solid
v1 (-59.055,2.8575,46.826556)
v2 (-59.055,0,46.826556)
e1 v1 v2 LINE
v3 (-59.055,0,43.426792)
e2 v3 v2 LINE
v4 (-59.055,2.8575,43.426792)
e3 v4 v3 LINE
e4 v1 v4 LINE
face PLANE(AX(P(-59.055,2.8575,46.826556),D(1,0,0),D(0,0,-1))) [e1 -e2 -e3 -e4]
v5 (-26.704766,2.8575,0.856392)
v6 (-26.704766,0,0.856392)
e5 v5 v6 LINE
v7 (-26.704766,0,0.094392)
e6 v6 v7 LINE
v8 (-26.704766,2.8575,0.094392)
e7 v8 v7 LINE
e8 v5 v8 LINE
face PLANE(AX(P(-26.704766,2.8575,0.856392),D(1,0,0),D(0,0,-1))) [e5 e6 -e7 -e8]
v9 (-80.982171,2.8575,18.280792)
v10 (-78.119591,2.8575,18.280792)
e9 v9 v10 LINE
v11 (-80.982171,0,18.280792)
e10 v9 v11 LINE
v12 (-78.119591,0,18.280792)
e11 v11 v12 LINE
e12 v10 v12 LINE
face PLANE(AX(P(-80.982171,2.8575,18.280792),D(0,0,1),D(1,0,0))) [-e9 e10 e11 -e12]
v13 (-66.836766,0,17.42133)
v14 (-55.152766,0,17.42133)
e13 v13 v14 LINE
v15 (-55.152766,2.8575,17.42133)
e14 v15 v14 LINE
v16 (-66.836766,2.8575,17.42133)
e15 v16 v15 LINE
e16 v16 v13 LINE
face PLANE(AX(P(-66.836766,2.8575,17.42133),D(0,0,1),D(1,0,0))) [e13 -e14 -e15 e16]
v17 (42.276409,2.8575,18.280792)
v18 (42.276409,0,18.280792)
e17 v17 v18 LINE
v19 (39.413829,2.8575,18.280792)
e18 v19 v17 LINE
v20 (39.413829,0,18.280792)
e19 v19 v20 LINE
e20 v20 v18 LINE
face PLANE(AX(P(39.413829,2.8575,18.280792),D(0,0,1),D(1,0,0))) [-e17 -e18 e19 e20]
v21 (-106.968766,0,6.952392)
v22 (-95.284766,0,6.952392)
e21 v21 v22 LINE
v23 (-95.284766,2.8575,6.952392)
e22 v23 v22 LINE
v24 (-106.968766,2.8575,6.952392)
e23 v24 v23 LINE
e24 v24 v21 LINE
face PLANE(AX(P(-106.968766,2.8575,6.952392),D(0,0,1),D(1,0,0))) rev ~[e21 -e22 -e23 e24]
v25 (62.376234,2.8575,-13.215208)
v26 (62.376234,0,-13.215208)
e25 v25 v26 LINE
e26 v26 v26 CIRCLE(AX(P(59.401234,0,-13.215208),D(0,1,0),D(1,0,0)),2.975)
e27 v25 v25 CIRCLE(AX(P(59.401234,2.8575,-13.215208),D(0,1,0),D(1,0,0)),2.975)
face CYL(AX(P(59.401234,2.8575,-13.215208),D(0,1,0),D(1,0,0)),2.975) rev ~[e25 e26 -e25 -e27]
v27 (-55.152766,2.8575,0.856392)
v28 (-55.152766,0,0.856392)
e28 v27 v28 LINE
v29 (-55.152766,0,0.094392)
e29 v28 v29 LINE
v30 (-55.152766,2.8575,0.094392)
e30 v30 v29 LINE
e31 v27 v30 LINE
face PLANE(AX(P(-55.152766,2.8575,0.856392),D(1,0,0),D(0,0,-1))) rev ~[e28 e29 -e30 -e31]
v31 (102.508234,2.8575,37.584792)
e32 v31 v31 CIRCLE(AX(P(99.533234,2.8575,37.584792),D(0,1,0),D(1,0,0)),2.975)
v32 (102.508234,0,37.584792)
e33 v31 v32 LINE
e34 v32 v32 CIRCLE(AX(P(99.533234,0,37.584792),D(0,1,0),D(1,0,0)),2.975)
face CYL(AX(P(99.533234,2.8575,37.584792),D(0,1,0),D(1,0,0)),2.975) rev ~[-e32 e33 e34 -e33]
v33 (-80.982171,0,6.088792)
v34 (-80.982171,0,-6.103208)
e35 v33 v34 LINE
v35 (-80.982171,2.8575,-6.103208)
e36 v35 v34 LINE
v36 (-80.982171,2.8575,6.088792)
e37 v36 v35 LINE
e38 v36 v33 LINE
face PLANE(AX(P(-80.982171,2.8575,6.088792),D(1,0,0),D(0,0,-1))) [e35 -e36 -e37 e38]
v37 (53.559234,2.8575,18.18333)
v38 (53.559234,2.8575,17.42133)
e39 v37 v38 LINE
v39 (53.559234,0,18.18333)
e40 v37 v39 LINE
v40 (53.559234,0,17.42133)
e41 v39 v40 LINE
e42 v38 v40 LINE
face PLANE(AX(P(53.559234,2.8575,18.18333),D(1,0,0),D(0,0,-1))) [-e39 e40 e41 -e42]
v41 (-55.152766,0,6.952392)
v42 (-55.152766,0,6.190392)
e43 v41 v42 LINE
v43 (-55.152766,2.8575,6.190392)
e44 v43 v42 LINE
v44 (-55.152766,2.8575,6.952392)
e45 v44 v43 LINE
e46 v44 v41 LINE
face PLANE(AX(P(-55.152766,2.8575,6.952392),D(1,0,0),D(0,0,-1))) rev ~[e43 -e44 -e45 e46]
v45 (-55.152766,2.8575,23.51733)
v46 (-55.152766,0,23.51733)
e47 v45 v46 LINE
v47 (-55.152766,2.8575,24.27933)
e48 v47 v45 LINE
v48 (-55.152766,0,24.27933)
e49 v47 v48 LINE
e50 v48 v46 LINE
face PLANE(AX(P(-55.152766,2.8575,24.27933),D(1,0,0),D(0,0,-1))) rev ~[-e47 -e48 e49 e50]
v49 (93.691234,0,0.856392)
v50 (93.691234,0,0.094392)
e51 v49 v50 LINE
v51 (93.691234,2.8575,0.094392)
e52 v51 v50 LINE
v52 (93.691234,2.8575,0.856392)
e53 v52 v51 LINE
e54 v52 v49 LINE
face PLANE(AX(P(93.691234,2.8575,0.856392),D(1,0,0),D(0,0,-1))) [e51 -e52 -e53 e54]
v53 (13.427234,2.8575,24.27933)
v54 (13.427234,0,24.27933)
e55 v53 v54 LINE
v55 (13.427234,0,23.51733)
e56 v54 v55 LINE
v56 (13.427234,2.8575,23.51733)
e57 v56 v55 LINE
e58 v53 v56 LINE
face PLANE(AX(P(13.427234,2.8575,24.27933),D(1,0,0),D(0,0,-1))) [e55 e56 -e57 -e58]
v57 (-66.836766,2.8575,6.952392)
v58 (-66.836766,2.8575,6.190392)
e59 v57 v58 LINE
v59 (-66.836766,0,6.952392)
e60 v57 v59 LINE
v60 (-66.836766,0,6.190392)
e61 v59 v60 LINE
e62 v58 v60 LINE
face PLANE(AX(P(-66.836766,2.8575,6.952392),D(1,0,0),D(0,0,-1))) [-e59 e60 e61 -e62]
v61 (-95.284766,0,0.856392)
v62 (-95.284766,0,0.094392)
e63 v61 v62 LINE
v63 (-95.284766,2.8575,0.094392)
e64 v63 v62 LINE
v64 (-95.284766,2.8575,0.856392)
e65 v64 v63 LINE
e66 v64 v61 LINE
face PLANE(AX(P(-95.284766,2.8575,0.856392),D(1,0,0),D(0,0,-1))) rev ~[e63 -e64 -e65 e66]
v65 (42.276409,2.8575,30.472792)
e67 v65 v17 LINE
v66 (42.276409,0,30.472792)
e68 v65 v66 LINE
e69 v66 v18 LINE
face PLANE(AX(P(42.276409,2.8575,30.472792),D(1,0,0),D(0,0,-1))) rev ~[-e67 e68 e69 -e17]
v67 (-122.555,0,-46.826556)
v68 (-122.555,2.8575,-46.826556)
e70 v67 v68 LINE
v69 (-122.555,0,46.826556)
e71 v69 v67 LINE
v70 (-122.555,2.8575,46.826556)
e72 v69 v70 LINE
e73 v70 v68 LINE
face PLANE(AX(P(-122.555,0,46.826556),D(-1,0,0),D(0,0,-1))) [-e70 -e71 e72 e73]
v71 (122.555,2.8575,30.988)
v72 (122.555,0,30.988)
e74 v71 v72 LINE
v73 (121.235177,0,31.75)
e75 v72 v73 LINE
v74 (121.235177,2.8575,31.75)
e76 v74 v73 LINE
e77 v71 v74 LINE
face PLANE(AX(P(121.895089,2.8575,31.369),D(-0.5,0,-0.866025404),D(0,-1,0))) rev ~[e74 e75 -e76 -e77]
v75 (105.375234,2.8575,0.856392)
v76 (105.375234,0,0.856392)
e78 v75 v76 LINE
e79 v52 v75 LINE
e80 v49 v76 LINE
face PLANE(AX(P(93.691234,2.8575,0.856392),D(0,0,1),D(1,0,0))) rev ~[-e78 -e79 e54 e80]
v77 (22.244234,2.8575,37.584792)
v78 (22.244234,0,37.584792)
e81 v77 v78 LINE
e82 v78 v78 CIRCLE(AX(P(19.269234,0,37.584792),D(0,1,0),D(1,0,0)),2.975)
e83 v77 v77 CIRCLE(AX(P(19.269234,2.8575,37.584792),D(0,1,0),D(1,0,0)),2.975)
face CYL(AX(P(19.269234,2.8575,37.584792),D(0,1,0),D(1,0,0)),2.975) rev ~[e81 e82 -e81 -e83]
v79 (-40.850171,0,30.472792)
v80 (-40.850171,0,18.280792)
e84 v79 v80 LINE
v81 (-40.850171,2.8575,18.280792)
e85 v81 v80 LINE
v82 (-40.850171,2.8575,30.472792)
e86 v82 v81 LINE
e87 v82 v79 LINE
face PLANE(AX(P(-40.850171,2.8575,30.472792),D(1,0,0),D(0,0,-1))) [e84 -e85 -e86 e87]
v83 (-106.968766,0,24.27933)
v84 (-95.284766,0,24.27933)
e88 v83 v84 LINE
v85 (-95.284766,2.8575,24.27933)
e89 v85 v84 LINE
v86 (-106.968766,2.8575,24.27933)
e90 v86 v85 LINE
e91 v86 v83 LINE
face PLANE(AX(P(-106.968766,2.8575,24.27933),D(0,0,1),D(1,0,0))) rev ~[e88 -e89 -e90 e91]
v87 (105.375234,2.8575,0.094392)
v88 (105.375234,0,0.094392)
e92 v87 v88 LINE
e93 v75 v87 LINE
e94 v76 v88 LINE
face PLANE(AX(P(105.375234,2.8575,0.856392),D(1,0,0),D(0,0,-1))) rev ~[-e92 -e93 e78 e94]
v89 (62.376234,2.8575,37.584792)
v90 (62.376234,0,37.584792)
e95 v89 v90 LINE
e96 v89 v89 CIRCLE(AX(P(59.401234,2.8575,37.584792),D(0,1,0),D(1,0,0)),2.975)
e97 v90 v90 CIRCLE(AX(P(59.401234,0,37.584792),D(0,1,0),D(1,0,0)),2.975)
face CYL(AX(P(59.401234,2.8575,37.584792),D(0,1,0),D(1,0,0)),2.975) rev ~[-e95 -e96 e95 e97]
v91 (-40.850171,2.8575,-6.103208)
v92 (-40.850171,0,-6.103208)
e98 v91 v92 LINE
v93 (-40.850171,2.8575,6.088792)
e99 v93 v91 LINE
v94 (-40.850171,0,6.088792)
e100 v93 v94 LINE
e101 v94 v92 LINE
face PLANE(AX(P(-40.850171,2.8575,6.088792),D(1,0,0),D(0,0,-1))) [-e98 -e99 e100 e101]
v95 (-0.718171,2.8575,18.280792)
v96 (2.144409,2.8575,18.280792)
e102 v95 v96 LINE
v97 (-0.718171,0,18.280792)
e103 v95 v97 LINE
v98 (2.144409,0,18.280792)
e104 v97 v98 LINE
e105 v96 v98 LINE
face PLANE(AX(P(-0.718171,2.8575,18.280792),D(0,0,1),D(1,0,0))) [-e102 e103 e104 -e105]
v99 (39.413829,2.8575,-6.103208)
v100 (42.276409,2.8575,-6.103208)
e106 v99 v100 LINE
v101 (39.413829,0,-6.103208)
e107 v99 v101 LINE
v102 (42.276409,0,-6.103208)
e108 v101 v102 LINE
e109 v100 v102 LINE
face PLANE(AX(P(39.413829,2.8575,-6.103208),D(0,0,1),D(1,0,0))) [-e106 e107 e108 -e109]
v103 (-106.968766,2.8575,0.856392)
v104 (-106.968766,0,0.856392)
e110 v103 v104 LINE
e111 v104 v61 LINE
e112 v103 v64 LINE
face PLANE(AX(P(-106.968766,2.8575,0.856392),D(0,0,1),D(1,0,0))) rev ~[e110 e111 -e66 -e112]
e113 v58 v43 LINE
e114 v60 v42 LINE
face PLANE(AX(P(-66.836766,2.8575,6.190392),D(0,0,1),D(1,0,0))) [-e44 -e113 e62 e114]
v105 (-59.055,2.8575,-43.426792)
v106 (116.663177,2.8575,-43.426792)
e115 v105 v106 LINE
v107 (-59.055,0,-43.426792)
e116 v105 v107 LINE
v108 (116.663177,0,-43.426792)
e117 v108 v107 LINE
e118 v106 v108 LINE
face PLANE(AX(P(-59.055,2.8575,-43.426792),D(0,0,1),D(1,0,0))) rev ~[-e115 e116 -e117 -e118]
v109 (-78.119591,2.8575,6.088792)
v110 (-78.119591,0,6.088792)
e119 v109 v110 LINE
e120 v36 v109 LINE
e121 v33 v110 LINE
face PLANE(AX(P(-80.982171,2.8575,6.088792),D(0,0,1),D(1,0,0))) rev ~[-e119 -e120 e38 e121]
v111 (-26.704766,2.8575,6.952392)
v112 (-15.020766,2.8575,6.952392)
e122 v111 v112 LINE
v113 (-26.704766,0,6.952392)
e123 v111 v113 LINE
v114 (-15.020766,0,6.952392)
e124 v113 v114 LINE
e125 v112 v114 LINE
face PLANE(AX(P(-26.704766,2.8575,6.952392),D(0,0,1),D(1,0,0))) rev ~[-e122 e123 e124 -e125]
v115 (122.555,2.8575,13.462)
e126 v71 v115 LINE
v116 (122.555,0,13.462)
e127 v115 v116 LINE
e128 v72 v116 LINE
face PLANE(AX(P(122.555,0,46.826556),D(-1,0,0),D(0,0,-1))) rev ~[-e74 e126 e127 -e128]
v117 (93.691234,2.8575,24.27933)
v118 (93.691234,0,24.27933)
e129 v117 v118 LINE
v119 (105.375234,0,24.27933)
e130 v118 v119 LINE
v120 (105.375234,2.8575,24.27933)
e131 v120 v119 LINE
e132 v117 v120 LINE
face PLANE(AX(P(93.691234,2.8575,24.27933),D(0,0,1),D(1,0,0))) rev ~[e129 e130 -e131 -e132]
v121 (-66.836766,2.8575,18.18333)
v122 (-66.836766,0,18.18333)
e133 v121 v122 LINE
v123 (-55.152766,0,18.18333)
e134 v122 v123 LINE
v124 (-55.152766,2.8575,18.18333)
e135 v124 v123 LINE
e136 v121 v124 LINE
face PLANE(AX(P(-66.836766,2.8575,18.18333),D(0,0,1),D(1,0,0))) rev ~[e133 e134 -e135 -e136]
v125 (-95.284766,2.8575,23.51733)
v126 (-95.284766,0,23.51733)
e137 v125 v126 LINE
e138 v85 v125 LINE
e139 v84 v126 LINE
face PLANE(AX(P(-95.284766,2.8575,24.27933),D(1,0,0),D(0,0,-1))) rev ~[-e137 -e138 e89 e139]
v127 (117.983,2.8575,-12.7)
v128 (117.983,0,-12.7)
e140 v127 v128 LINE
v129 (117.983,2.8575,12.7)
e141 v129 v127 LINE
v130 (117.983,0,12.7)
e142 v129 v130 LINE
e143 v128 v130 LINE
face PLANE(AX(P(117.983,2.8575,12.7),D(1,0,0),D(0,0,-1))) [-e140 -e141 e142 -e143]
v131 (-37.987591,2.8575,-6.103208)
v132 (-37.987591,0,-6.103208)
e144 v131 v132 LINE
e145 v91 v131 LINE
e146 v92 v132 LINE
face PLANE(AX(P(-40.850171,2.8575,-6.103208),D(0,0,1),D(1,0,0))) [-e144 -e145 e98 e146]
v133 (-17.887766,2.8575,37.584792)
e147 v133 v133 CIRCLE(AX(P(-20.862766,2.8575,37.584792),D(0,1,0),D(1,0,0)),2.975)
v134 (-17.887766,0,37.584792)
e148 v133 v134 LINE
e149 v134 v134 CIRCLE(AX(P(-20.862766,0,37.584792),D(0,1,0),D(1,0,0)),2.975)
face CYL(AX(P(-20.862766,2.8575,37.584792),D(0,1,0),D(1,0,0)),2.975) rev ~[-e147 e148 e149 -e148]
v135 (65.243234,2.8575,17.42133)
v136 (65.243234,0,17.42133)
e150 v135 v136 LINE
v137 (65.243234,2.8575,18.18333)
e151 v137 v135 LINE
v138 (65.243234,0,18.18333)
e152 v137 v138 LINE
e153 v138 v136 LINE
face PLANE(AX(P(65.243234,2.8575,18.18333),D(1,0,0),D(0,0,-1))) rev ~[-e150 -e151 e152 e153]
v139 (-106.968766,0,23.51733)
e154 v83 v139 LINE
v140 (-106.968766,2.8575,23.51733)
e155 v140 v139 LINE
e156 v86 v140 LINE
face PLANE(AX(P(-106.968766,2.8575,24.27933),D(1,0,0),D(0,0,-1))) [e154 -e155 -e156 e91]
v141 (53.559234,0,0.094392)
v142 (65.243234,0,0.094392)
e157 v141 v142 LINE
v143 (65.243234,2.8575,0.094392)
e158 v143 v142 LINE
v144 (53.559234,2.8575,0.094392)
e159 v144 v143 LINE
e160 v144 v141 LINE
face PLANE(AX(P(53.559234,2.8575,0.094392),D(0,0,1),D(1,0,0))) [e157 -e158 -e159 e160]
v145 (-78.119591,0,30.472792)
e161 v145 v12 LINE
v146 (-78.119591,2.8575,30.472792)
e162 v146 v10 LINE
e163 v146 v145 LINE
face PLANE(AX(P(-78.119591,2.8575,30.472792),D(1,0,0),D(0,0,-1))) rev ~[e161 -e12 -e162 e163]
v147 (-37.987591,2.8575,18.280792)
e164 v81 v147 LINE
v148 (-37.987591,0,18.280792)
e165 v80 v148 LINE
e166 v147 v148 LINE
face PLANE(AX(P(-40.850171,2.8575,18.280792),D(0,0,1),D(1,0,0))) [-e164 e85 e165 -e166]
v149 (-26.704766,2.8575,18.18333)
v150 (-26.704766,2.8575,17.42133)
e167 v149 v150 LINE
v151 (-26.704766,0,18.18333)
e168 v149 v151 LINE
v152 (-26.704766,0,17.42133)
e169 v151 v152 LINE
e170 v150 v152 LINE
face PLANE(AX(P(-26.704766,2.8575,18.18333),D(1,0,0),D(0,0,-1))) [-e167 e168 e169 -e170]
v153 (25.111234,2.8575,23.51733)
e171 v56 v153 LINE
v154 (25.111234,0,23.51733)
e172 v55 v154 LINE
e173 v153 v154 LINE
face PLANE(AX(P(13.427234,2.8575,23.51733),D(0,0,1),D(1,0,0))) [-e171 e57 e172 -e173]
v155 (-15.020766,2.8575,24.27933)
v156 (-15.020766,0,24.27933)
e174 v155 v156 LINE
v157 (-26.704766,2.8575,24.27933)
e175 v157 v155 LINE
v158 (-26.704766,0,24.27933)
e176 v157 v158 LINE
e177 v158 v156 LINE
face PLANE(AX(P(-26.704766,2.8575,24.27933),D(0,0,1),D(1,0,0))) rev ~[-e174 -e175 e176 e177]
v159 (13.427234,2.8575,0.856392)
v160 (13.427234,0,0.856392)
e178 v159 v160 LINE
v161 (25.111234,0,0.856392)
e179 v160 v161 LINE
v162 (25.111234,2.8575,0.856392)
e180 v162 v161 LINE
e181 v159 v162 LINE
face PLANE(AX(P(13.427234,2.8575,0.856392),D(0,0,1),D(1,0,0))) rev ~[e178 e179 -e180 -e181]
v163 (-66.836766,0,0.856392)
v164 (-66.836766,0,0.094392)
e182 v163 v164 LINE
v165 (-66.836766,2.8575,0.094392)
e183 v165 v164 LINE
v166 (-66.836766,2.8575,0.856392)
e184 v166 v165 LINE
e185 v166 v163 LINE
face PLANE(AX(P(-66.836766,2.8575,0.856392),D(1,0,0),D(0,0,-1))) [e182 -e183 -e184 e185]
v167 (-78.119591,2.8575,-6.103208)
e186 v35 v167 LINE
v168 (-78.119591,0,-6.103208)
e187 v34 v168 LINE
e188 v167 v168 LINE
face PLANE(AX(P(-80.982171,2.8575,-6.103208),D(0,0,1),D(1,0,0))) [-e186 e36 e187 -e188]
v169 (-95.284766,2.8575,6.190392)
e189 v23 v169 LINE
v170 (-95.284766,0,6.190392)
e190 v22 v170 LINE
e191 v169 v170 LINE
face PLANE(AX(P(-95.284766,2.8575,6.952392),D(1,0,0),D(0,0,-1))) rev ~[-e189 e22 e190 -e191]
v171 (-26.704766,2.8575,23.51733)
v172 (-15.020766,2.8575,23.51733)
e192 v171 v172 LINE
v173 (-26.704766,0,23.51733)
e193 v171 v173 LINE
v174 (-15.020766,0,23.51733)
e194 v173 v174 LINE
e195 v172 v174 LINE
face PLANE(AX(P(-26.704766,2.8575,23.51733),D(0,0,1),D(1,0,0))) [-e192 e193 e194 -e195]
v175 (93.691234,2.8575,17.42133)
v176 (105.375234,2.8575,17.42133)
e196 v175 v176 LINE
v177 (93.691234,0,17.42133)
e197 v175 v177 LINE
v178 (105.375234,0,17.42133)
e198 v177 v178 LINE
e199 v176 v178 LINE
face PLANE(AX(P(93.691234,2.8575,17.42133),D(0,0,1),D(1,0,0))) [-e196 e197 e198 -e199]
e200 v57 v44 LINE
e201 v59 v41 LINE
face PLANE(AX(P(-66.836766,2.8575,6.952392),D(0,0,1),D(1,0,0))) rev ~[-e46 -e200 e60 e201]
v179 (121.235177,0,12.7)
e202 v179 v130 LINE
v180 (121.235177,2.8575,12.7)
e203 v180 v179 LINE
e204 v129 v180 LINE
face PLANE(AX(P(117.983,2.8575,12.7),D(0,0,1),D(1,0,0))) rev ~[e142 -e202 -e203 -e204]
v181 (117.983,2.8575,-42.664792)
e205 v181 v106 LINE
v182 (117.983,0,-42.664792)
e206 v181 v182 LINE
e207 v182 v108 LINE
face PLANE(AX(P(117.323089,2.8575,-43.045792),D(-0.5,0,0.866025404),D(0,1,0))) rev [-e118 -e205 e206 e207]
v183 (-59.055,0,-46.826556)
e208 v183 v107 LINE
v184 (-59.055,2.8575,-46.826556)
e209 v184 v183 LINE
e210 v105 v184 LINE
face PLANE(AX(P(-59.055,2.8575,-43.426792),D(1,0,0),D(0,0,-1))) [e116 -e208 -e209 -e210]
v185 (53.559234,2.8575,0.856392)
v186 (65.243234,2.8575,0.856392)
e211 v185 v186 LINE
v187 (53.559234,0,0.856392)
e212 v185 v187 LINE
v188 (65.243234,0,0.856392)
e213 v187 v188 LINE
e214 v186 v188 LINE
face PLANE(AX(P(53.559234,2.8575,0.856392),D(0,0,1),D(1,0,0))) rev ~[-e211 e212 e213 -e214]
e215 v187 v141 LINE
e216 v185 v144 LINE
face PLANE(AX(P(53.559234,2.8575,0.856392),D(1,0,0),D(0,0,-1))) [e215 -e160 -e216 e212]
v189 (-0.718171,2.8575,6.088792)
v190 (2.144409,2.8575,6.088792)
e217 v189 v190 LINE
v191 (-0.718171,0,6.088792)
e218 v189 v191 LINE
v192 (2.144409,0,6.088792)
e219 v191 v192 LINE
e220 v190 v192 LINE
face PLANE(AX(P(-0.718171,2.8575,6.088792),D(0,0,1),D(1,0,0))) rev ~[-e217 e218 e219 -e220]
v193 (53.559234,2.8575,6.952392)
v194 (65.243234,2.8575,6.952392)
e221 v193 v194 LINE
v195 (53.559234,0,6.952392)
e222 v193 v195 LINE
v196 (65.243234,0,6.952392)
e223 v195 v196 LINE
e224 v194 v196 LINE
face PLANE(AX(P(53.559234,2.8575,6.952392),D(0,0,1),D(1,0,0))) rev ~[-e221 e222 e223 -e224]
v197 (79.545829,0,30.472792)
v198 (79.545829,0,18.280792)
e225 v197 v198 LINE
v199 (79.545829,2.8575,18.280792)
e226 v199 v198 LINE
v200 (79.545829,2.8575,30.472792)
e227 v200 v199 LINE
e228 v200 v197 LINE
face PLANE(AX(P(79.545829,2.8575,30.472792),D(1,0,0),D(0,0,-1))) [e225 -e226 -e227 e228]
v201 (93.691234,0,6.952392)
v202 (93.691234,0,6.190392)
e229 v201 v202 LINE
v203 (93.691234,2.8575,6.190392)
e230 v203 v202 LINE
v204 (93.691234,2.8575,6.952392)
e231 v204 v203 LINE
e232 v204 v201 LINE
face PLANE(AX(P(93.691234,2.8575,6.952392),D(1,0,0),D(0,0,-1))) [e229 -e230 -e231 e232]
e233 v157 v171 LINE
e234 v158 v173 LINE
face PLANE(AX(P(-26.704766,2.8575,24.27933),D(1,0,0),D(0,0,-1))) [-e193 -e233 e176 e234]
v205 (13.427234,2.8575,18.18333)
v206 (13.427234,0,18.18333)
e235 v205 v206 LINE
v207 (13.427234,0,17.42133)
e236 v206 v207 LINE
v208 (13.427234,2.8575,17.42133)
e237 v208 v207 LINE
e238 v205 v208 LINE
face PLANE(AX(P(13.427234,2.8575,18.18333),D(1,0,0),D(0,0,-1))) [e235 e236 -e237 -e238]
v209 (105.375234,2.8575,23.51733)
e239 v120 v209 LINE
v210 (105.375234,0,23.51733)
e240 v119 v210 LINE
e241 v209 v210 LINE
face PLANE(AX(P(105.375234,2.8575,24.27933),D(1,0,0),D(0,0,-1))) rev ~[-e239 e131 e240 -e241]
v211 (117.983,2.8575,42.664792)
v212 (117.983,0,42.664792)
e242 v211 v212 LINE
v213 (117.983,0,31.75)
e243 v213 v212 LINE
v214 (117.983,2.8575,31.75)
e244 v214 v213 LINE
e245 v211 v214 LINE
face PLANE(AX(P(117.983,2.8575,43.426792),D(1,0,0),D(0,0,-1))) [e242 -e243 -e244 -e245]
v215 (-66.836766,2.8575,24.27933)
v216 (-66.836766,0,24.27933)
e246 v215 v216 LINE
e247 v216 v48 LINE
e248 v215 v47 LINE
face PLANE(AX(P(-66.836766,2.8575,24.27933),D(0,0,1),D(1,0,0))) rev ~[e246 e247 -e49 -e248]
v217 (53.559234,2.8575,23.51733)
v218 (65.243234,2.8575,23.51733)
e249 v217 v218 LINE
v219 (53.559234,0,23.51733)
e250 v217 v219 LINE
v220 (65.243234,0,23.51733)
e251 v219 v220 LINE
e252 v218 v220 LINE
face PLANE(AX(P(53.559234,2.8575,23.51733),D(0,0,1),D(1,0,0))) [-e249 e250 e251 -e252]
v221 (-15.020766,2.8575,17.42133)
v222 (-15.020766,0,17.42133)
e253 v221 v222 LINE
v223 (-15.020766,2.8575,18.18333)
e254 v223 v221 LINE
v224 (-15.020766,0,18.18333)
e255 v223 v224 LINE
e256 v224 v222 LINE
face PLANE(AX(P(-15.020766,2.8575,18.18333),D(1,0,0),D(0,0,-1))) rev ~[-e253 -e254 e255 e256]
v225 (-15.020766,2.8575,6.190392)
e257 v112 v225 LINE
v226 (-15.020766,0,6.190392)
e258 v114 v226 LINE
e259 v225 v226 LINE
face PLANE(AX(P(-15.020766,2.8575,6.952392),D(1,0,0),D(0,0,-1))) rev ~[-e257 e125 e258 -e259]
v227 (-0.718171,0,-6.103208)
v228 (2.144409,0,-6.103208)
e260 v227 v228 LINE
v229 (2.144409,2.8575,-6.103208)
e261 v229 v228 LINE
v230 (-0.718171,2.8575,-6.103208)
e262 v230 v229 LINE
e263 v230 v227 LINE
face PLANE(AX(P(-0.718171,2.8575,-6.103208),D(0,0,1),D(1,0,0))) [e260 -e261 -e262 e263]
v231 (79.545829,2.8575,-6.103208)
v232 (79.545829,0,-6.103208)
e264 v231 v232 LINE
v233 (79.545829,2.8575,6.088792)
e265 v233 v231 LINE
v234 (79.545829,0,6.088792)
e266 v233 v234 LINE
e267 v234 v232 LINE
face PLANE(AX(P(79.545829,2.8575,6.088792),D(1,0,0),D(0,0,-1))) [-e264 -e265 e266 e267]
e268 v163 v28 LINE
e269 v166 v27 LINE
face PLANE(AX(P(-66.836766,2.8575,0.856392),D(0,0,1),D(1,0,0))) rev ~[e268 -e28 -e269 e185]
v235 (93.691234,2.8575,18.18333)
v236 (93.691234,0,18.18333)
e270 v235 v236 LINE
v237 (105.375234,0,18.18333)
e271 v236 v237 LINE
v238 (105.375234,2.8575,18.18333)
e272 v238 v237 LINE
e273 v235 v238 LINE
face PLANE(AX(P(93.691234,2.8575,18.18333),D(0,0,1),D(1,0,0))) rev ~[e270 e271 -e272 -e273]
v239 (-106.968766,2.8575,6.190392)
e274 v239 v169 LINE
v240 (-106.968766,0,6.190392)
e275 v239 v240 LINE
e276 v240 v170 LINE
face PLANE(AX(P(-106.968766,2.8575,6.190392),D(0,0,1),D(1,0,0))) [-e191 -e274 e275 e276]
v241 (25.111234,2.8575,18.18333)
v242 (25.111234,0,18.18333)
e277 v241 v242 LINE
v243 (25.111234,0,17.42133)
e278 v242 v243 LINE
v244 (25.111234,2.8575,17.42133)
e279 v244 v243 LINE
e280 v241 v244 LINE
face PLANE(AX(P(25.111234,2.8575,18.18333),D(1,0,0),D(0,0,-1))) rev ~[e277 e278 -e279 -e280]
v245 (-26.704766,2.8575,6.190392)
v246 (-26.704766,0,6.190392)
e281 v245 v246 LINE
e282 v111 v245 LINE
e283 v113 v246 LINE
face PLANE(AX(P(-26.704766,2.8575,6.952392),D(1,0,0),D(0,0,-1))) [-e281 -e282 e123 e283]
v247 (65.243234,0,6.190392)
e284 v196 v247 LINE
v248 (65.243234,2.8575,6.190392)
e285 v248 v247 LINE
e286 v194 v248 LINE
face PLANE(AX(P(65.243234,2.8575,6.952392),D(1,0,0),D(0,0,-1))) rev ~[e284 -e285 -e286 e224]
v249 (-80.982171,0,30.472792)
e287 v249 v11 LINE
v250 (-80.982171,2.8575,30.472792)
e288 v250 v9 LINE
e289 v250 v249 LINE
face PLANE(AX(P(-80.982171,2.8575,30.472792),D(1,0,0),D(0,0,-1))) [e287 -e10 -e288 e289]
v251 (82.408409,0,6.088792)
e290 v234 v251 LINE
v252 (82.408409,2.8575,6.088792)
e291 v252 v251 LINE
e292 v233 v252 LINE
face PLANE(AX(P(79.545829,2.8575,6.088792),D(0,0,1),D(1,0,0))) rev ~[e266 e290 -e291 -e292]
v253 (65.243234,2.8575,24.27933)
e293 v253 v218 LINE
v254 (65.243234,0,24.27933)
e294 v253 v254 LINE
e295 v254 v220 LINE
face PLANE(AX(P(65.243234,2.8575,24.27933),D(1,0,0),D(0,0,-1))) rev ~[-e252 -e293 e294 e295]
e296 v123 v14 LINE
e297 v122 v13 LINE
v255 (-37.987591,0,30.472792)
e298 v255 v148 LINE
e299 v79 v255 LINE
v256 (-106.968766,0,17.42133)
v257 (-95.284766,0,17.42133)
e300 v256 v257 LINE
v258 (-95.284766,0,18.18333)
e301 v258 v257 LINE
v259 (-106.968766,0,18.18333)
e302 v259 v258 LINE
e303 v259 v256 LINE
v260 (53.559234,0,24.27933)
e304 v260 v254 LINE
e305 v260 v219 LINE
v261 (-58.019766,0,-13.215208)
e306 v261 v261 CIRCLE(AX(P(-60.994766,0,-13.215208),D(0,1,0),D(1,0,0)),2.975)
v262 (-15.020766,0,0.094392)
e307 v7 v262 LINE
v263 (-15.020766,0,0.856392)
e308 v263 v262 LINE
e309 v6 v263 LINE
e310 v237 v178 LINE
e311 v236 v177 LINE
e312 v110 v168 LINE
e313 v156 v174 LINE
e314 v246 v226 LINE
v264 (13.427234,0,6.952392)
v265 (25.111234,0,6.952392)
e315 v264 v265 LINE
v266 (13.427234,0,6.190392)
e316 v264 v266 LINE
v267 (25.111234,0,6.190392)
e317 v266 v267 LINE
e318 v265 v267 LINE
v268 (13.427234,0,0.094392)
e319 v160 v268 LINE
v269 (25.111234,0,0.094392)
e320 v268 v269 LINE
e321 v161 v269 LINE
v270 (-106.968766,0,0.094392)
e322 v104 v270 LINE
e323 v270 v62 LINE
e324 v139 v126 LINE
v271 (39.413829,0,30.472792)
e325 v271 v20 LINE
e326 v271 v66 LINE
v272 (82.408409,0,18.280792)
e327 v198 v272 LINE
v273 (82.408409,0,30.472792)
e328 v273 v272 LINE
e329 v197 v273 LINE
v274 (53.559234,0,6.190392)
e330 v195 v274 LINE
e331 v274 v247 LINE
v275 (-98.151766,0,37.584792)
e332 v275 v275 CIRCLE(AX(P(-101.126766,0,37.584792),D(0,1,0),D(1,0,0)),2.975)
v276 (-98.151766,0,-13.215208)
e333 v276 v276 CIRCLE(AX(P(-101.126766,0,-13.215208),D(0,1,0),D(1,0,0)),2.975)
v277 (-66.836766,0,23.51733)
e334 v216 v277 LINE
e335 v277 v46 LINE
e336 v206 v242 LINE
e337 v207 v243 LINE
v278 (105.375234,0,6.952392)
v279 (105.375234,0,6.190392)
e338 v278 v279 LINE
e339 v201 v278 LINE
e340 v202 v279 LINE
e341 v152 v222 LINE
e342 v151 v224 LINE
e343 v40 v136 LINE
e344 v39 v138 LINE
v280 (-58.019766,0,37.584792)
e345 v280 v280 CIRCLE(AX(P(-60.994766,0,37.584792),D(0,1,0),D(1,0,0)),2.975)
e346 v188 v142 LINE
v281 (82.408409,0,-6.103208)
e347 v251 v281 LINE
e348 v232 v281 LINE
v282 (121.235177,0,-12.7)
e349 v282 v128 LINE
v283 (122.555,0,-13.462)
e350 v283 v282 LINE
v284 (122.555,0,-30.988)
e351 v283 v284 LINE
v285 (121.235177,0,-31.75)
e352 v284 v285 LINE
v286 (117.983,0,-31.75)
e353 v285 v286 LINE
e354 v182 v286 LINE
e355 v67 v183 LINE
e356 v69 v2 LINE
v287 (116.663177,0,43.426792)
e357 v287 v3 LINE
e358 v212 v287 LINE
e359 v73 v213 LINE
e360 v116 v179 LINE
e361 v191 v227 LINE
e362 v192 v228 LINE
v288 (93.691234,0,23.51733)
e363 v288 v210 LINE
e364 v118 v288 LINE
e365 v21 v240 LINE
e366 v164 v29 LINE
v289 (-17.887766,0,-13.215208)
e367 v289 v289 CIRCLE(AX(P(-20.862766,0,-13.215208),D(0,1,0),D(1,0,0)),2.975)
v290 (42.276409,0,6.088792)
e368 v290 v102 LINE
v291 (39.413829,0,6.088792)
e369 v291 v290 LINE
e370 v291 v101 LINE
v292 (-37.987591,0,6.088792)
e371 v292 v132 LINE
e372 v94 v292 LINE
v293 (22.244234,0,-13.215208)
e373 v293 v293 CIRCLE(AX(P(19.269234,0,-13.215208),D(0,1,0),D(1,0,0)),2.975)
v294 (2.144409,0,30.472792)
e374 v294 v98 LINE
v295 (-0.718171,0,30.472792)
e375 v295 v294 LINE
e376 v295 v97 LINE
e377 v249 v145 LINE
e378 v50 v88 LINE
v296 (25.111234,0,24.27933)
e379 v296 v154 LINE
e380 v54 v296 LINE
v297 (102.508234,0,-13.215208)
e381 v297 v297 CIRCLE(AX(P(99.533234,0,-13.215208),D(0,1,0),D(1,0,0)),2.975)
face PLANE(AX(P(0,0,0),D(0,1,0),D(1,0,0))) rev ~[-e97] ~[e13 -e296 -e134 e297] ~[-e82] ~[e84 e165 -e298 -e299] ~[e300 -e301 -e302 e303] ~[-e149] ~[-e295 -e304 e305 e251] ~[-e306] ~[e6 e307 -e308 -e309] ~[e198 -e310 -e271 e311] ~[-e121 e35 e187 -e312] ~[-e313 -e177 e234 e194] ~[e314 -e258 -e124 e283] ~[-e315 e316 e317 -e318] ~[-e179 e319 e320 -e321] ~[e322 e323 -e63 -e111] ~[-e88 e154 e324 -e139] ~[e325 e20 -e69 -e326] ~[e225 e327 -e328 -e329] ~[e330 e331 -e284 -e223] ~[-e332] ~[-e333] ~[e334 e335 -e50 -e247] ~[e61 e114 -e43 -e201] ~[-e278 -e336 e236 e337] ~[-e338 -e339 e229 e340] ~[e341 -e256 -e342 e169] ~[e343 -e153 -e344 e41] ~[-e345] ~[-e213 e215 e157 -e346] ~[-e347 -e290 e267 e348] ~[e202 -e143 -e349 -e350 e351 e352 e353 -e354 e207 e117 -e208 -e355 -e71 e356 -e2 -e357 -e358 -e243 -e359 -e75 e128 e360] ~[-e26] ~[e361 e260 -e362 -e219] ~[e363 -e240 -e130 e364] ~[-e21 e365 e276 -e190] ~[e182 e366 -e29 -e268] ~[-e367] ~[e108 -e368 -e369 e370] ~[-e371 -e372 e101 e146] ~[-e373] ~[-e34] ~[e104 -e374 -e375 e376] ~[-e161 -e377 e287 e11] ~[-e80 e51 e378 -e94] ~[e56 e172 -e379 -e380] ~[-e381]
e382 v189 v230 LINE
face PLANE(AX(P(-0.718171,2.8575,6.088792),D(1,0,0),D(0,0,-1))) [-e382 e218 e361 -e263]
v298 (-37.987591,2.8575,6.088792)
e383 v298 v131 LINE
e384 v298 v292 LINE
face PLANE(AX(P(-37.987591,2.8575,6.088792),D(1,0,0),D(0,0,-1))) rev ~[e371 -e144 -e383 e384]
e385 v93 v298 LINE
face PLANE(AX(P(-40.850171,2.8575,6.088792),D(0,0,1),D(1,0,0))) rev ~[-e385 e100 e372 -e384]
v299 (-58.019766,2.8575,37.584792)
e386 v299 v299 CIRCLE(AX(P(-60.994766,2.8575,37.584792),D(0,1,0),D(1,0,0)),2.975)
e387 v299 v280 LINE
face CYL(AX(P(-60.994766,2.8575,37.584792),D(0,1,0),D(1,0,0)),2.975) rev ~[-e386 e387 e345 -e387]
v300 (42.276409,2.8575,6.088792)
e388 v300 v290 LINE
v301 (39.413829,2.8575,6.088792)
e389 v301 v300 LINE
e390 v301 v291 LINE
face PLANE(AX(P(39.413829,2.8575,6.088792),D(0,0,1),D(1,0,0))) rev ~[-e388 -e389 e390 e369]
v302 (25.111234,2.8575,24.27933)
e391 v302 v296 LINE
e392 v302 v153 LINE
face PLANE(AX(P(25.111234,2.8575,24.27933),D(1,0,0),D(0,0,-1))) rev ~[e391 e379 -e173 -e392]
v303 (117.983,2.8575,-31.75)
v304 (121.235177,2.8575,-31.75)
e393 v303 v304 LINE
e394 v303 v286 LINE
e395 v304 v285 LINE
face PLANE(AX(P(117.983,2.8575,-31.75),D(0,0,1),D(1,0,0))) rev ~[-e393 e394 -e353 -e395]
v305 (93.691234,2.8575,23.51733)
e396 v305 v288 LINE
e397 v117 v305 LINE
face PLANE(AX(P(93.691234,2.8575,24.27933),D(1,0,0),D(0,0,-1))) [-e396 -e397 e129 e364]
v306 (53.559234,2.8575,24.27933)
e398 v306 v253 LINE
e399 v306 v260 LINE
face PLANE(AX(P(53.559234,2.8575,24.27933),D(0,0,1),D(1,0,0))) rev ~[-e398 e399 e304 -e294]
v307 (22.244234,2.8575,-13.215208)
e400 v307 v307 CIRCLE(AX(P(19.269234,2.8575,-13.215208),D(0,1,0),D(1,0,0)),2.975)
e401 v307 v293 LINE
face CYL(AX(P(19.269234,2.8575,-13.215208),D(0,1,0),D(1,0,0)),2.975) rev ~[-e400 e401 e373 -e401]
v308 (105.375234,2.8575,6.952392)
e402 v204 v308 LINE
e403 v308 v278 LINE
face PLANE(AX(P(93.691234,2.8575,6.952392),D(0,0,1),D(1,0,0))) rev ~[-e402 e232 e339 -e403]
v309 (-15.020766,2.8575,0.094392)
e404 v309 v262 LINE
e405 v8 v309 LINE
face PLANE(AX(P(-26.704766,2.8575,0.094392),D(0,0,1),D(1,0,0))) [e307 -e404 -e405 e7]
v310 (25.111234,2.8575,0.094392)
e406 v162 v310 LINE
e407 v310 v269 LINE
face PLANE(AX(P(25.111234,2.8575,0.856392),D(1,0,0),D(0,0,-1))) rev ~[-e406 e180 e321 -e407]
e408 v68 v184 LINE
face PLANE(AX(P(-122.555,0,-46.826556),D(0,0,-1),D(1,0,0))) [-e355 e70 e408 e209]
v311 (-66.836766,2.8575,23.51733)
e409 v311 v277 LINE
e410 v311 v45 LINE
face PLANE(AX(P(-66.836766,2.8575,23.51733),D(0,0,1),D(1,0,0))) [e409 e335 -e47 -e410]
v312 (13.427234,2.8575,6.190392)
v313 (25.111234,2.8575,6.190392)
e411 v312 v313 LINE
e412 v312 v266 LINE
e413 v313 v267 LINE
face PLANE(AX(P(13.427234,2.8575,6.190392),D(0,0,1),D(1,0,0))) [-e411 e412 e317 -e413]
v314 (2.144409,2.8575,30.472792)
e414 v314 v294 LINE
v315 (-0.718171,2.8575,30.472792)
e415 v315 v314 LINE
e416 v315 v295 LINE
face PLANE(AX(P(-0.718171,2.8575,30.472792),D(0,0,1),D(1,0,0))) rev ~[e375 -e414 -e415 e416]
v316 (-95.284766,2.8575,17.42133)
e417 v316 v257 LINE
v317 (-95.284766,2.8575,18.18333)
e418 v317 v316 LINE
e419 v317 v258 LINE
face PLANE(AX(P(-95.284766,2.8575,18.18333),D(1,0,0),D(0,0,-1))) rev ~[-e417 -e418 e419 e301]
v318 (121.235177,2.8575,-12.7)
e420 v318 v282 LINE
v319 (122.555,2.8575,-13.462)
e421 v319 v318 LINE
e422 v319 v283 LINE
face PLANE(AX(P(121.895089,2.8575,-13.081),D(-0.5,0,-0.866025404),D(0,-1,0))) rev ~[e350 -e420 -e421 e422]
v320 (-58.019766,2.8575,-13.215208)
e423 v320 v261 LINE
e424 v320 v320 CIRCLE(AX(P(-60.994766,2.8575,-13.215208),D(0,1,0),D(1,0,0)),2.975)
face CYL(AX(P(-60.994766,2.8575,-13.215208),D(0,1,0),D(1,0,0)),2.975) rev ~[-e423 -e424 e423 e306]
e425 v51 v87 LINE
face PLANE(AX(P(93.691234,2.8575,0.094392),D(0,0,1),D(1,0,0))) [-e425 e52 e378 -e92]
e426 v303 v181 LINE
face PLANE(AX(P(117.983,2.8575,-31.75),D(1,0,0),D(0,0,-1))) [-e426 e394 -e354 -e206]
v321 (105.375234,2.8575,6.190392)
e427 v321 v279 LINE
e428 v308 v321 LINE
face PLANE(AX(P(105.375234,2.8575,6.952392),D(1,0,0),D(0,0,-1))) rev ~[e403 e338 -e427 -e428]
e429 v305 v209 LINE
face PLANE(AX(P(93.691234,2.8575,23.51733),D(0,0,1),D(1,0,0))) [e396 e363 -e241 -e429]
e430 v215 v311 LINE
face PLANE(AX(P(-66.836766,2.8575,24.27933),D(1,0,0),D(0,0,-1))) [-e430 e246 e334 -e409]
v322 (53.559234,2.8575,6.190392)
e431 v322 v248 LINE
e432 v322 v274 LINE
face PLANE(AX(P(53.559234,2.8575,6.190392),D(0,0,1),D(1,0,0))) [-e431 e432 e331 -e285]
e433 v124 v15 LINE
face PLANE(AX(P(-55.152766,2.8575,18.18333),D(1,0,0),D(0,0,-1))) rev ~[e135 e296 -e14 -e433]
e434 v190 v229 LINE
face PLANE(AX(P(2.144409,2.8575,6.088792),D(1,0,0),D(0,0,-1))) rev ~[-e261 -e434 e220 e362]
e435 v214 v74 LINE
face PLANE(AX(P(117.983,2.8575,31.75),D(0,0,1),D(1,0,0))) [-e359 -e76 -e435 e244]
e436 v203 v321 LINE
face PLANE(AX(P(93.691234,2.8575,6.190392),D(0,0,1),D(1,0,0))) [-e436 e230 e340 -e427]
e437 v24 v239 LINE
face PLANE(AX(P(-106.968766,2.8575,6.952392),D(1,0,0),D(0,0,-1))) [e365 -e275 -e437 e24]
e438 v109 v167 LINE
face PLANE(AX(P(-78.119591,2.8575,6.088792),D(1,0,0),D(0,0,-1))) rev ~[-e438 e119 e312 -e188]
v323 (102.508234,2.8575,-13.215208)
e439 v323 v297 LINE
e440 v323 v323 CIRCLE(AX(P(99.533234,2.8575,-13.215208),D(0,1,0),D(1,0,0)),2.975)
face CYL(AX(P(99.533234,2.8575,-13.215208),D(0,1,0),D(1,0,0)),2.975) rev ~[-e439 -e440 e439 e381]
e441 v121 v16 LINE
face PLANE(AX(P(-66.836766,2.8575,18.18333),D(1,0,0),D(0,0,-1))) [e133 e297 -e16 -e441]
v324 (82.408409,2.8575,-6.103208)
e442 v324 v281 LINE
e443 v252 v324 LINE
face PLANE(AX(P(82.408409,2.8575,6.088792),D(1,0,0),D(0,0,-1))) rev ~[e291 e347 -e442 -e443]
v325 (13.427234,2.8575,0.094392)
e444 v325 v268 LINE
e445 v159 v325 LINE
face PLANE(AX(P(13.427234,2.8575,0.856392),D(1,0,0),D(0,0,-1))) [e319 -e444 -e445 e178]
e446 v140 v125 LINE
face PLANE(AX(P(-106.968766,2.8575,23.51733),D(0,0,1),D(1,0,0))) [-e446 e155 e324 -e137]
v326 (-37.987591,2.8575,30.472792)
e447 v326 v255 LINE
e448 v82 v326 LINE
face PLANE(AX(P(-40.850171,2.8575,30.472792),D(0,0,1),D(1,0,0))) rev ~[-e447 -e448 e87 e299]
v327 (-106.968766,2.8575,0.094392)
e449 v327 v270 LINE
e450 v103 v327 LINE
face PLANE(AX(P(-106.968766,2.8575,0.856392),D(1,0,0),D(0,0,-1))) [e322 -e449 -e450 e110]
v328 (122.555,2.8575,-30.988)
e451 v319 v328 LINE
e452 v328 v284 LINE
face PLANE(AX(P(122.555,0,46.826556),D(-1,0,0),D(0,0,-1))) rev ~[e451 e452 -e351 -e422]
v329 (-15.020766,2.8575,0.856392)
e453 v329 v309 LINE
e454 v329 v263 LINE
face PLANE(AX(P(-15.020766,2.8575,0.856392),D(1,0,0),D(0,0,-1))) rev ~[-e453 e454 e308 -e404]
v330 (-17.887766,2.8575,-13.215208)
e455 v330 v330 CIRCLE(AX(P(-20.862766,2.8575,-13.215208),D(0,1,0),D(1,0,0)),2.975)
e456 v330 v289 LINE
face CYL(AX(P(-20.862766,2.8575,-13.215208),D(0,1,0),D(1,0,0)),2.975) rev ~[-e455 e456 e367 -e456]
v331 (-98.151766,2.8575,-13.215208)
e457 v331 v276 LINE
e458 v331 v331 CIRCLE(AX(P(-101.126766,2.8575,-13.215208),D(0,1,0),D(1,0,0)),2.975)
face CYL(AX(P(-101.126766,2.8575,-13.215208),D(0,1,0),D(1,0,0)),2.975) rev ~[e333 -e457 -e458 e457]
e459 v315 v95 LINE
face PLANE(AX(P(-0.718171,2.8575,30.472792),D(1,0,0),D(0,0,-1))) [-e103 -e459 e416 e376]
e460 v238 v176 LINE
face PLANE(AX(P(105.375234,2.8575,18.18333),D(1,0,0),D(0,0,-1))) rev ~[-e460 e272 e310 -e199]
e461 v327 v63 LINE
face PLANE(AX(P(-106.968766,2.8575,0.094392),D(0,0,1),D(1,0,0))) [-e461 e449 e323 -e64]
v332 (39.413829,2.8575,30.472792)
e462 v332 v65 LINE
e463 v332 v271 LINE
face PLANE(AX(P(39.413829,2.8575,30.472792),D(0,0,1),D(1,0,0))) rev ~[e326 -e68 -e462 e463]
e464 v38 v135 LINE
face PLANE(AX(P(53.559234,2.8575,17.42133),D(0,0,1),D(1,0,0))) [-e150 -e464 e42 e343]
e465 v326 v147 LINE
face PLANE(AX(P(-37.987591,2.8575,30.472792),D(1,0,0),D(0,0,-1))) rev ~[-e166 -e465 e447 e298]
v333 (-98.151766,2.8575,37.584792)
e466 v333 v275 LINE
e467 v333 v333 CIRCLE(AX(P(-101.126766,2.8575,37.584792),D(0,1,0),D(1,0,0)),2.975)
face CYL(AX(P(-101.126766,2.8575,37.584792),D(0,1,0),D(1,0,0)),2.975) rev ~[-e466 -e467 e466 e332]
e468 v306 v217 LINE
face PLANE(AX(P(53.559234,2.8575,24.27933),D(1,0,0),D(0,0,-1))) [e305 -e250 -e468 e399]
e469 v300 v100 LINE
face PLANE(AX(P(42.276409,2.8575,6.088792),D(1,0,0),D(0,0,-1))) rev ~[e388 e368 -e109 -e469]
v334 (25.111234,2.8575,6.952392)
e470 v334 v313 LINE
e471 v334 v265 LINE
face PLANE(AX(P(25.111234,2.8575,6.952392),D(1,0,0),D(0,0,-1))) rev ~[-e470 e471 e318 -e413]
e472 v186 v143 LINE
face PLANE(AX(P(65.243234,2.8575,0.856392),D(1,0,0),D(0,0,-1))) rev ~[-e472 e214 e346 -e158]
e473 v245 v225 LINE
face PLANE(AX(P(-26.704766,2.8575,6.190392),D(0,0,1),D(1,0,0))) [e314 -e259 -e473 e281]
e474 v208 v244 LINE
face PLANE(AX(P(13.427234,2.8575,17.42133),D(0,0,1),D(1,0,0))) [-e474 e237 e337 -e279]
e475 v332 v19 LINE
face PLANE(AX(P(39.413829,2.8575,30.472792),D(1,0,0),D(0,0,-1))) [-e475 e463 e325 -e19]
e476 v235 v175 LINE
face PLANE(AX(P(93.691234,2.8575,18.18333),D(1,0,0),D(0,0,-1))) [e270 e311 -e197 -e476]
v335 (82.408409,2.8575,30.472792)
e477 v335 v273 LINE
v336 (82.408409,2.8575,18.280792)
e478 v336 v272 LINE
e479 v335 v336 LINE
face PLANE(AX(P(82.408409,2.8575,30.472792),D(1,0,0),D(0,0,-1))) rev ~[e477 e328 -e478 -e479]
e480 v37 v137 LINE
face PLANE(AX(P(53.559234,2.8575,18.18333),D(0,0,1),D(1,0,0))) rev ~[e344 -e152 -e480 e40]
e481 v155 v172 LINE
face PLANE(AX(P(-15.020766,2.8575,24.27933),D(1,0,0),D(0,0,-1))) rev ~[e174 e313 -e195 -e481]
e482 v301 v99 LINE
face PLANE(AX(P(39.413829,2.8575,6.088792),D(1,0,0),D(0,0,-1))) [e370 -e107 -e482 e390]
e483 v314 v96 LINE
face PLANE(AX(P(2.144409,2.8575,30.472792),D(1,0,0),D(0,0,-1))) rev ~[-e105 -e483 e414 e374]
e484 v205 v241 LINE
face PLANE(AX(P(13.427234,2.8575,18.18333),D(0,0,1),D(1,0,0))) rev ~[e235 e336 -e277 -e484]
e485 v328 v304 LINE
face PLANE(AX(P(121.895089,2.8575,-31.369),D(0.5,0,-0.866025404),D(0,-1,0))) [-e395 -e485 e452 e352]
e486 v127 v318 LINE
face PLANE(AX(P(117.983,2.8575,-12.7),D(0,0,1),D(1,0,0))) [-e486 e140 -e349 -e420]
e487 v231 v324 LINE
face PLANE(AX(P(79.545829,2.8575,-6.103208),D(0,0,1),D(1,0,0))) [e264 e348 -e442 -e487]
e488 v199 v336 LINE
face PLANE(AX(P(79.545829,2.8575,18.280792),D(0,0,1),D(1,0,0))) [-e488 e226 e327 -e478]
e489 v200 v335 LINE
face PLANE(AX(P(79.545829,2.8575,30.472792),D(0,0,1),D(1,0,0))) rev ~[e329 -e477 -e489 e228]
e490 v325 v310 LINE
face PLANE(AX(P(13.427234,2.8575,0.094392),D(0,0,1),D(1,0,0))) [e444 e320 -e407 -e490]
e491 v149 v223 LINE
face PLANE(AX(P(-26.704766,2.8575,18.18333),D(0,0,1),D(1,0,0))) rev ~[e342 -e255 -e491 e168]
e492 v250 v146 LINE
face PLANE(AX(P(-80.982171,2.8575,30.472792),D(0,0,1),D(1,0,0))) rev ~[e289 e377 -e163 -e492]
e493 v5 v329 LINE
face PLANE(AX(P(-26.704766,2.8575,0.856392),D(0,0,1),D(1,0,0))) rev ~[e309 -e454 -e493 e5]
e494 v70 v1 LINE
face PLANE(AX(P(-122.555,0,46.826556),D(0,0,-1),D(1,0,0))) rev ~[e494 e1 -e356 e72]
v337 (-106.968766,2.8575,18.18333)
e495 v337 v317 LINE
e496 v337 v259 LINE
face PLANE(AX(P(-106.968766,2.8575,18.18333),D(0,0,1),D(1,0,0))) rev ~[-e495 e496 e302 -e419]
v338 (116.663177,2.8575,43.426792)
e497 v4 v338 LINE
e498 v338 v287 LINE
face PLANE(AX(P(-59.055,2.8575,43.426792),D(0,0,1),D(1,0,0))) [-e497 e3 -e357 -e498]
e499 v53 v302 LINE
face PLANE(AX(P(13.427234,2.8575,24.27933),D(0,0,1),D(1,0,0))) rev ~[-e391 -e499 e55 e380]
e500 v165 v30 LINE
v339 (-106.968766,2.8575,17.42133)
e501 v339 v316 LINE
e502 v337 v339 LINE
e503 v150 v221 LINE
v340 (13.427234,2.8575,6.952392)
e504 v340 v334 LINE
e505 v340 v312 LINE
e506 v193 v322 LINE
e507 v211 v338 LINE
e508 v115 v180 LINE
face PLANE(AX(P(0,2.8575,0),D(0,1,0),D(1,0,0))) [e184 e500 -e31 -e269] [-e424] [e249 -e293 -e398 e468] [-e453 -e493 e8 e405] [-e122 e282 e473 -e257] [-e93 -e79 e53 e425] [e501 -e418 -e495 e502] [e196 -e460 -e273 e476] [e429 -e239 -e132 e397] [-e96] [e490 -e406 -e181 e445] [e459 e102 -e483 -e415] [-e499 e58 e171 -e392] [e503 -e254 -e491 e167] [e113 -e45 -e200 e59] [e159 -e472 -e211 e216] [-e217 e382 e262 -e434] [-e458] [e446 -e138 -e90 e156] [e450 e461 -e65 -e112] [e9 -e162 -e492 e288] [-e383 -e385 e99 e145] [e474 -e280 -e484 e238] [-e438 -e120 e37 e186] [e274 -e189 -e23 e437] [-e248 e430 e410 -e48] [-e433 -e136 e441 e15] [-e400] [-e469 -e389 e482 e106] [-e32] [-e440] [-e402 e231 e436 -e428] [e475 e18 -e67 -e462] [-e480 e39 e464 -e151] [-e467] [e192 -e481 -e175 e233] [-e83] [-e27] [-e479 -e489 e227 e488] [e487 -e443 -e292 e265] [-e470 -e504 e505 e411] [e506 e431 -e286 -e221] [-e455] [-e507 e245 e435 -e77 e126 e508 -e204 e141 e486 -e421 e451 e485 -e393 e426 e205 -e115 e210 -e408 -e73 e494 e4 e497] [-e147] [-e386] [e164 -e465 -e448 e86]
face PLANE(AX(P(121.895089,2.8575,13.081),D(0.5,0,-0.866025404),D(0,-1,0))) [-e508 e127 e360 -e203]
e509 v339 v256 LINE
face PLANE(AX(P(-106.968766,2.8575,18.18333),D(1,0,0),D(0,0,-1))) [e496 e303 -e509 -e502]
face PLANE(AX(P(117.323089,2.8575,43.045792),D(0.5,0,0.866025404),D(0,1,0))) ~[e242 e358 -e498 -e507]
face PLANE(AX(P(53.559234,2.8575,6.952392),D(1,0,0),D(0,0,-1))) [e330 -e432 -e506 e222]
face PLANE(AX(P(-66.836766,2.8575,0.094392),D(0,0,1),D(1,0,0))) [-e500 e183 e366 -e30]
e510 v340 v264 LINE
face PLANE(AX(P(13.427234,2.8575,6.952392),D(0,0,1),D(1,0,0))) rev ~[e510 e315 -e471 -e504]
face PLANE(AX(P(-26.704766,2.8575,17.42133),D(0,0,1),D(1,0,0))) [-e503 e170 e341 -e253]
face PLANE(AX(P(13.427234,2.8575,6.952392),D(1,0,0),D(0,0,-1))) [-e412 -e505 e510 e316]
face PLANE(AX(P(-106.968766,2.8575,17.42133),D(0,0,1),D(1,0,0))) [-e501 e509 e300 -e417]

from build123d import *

# Parameters (mm, degrees)
SKETCH1_W             = 245.11
SKETCH1_H             = 93.653112922
BOSS_EXTRUDE1_DEPTH   = 2.8575
CUT_EXTRUDE1_REACH    = 4.857
SKETCH2_W             = 181.61
SKETCH2_H             = 3.399764473
CUT_EXTRUDE3_REACH    = 4.857
SKETCH4_W             = 4.572
SKETCH4_H             = 11.676791988
SKETCH4_H_2           = 25.4
CHAMFER2_SIZE         = 0.762
CHAMFER2_SIZE2        = 1.319822715
CHAMFER2_PART_2_SIZE  = 0.762
CHAMFER2_PART_2_SIZE2 = 1.319822715
CHAMFER2_PART_3_SIZE  = 0.762
CHAMFER2_PART_3_SIZE2 = 1.319822715
CHAMFER3_SIZE         = 0.762
CHAMFER3_SIZE2        = 1.319822715
CHAMFER3_PART_2_SIZE  = 0.762
CHAMFER3_PART_2_SIZE2 = 1.319822715
CHAMFER3_PART_3_SIZE  = 0.762
CHAMFER3_PART_3_SIZE2 = 1.319822715
SKETCH6_W             = 11.684
SKETCH6_H             = 0.762
CUT_EXTRUDE4_DEPTH    = 3.8575
SKETCH9_W             = 2.86258
SKETCH9_H             = 12.192
CUT_EXTRUDE5_DEPTH    = 3.8575
SKETCH11_R            = 2.975
CUT_EXTRUDE6_DEPTH    = 3.8575


with BuildPart() as part:
    # Sketch1 → Boss-Extrude1 (new body)
    with BuildSketch(Plane(origin=(0, 0, 0), x_dir=(1, 0, 0), z_dir=(0, 1, 0))):
        Rectangle(SKETCH1_W, SKETCH1_H)
    extrude(amount=BOSS_EXTRUDE1_DEPTH)

    # Sketch2 → Cut-Extrude1 (cut, up to next)
    with BuildSketch(Plane(origin=(0, 2.8575, 0), x_dir=(1, 0, 0), z_dir=(0, 1, 0)), mode=Mode.PRIVATE) as cut_extrude1_sk1:
        with Locations((31.75, 45.126674225)):
            Rectangle(SKETCH2_W, SKETCH2_H)
    cut_extrude1_tool1 = extrude(cut_extrude1_sk1.sketch, amount=-CUT_EXTRUDE1_REACH, mode=Mode.PRIVATE) & part.part
    add(cut_extrude1_tool1.solids().sort_by_distance((31.75, 2.8575, -45.126674))[0], mode=Mode.SUBTRACT)
    # Sketch2 → Cut-Extrude1 (cut, up to next)
    with BuildSketch(Plane(origin=(0, 2.8575, 0), x_dir=(1, 0, 0), z_dir=(0, 1, 0)), mode=Mode.PRIVATE) as cut_extrude1_sk2:
        with Locations((31.75, -45.126674225)):
            Rectangle(SKETCH2_W, SKETCH2_H)
    cut_extrude1_tool2 = extrude(cut_extrude1_sk2.sketch, amount=-CUT_EXTRUDE1_REACH, mode=Mode.PRIVATE) & part.part
    add(cut_extrude1_tool2.solids().sort_by_distance((31.75, 2.8575, 45.126674))[0], mode=Mode.SUBTRACT)

    # Sketch4 → Cut-Extrude3 (cut, up to next)
    with BuildSketch(Plane(origin=(0, 2.8575, 0), x_dir=(1, 0, 0), z_dir=(0, 1, 0)), mode=Mode.PRIVATE) as cut_extrude3_sk1:
        with Locations((120.269, 37.588395994)):
            Rectangle(SKETCH4_W, SKETCH4_H)
    cut_extrude3_tool1 = extrude(cut_extrude3_sk1.sketch, amount=-CUT_EXTRUDE3_REACH, mode=Mode.PRIVATE) & part.part
    add(cut_extrude3_tool1.solids().sort_by_distance((120.269, 2.8575, -37.588396))[0], mode=Mode.SUBTRACT)
    # Sketch4 → Cut-Extrude3 (cut, up to next)
    with BuildSketch(Plane(origin=(0, 2.8575, 0), x_dir=(1, 0, 0), z_dir=(0, 1, 0)), mode=Mode.PRIVATE) as cut_extrude3_sk2:
        with Locations((120.269, -37.588395994)):
            Rectangle(SKETCH4_W, SKETCH4_H)
    cut_extrude3_tool2 = extrude(cut_extrude3_sk2.sketch, amount=-CUT_EXTRUDE3_REACH, mode=Mode.PRIVATE) & part.part
    add(cut_extrude3_tool2.solids().sort_by_distance((120.269, 2.8575, 37.588396))[0], mode=Mode.SUBTRACT)
    # Sketch4 → Cut-Extrude3 (cut, up to next)
    with BuildSketch(Plane(origin=(0, 2.8575, 0), x_dir=(1, 0, 0), z_dir=(0, 1, 0)), mode=Mode.PRIVATE) as cut_extrude3_sk3:
        with Locations((120.269, 0)):
            Rectangle(SKETCH4_W, SKETCH4_H_2)
    cut_extrude3_tool3 = extrude(cut_extrude3_sk3.sketch, amount=-CUT_EXTRUDE3_REACH, mode=Mode.PRIVATE) & part.part
    add(cut_extrude3_tool3.solids().sort_by_distance((120.269, 2.8575, 0))[0], mode=Mode.SUBTRACT)

    # Chamfer2
    chamfer2_edges = [part.edges().sort_by_distance(p)[0] for p in [
        (122.555, 1.42875, 31.75),
    ]]
    chamfer2_side = [part.faces().sort_by_distance(p)[0] for p in [
        (122.555, 1.42875, 22.225),
    ]]
    chamfer(chamfer2_edges, length=CHAMFER2_SIZE, length2=CHAMFER2_SIZE2, reference=chamfer2_side[0])

    # Chamfer2 part 2
    chamfer2_part_2_edges = [part.edges().sort_by_distance(p)[0] for p in [
        (117.983, 1.42875, 43.426791988),
    ]]
    chamfer2_part_2_side = [part.faces().sort_by_distance(p)[0] for p in [
        (117.983, 1.42875, 37.588395994),
    ]]
    chamfer(chamfer2_part_2_edges, length=CHAMFER2_PART_2_SIZE, length2=CHAMFER2_PART_2_SIZE2, reference=chamfer2_part_2_side[0])

    # Chamfer2 part 3
    chamfer2_part_3_edges = [part.edges().sort_by_distance(p)[0] for p in [
        (122.555, 1.42875, -12.7),
    ]]
    chamfer2_part_3_side = [part.faces().sort_by_distance(p)[0] for p in [
        (122.555, 1.42875, -22.225),
    ]]
    chamfer(chamfer2_part_3_edges, length=CHAMFER2_PART_3_SIZE, length2=CHAMFER2_PART_3_SIZE2, reference=chamfer2_part_3_side[0])

    # Chamfer3
    chamfer3_edges = [part.edges().sort_by_distance(p)[0] for p in [
        (122.555, 1.42875, -31.75),
    ]]
    chamfer3_side = [part.faces().sort_by_distance(p)[0] for p in [
        (122.555, 1.42875, -22.606),
    ]]
    chamfer(chamfer3_edges, length=CHAMFER3_SIZE, length2=CHAMFER3_SIZE2, reference=chamfer3_side[0])

    # Chamfer3 part 2
    chamfer3_part_2_edges = [part.edges().sort_by_distance(p)[0] for p in [
        (117.983, 1.42875, -43.426791988),
    ]]
    chamfer3_part_2_side = [part.faces().sort_by_distance(p)[0] for p in [
        (117.983, 1.42875, -37.588395994),
    ]]
    chamfer(chamfer3_part_2_edges, length=CHAMFER3_PART_2_SIZE, length2=CHAMFER3_PART_2_SIZE2, reference=chamfer3_part_2_side[0])

    # Chamfer3 part 3
    chamfer3_part_3_edges = [part.edges().sort_by_distance(p)[0] for p in [
        (122.555, 1.42875, 12.7),
    ]]
    chamfer3_part_3_side = [part.faces().sort_by_distance(p)[0] for p in [
        (122.555, 1.42875, 21.844),
    ]]
    chamfer(chamfer3_part_3_edges, length=CHAMFER3_PART_3_SIZE, length2=CHAMFER3_PART_3_SIZE2, reference=chamfer3_part_3_side[0])

    # Sketch6 → Cut-Extrude4 (cut, through all)
    with BuildSketch(Plane(origin=(0, 2.8575, 0), x_dir=(1, 0, 0), z_dir=(0, 1, 0))):
        with Locations((99.533234068, -0.475391988)):
            Rectangle(SKETCH6_W, SKETCH6_H)
        with Locations((99.533234068, -6.571391988)):
            Rectangle(SKETCH6_W, SKETCH6_H)
        with Locations((99.533234068, -17.802329902)):
            Rectangle(SKETCH6_W, SKETCH6_H)
        with Locations((99.533234068, -23.898329902)):
            Rectangle(SKETCH6_W, SKETCH6_H)
        with Locations((59.401234068, -0.475391988)):
            Rectangle(SKETCH6_W, SKETCH6_H)
        with Locations((59.401234068, -6.571391988)):
            Rectangle(SKETCH6_W, SKETCH6_H)
        with Locations((59.401234068, -17.802329902)):
            Rectangle(SKETCH6_W, SKETCH6_H)
        with Locations((59.401234068, -23.898329902)):
            Rectangle(SKETCH6_W, SKETCH6_H)
        with Locations((19.269234068, -0.475391988)):
            Rectangle(SKETCH6_W, SKETCH6_H)
        with Locations((19.269234068, -6.571391988)):
            Rectangle(SKETCH6_W, SKETCH6_H)
        with Locations((19.269234068, -17.802329902)):
            Rectangle(SKETCH6_W, SKETCH6_H)
        with Locations((19.269234068, -23.898329902)):
            Rectangle(SKETCH6_W, SKETCH6_H)
        with Locations((-20.862765932, -0.475391988)):
            Rectangle(SKETCH6_W, SKETCH6_H)
        with Locations((-20.862765932, -6.571391988)):
            Rectangle(SKETCH6_W, SKETCH6_H)
        with Locations((-20.862765932, -17.802329902)):
            Rectangle(SKETCH6_W, SKETCH6_H)
        with Locations((-20.862765932, -23.898329902)):
            Rectangle(SKETCH6_W, SKETCH6_H)
        with Locations((-60.994765932, -0.475391988)):
            Rectangle(SKETCH6_W, SKETCH6_H)
        with Locations((-60.994765932, -6.571391988)):
            Rectangle(SKETCH6_W, SKETCH6_H)
        with Locations((-60.994765932, -17.802329902)):
            Rectangle(SKETCH6_W, SKETCH6_H)
        with Locations((-60.994765932, -23.898329902)):
            Rectangle(SKETCH6_W, SKETCH6_H)
        with Locations((-101.126765932, -0.475391988)):
            Rectangle(SKETCH6_W, SKETCH6_H)
        with Locations((-101.126765932, -6.571391988)):
            Rectangle(SKETCH6_W, SKETCH6_H)
        with Locations((-101.126765932, -17.802329902)):
            Rectangle(SKETCH6_W, SKETCH6_H)
        with Locations((-101.126765932, -23.898329902)):
            Rectangle(SKETCH6_W, SKETCH6_H)
    extrude(amount=-CUT_EXTRUDE4_DEPTH, mode=Mode.SUBTRACT)

    # Sketch9 → Cut-Extrude5 (cut, through all)
    with BuildSketch(Plane(origin=(0, 2.8575, 0), x_dir=(1, 0, 0), z_dir=(0, 1, 0))):
        with Locations((80.97711923, 0.007208012)):
            Rectangle(SKETCH9_W, SKETCH9_H)
        with Locations((40.84511923, 0.007208012)):
            Rectangle(SKETCH9_W, SKETCH9_H)
        with Locations((40.84511923, -24.376791988)):
            Rectangle(SKETCH9_W, SKETCH9_H)
        with Locations((0.71311923, 0.007208012)):
            Rectangle(SKETCH9_W, SKETCH9_H)
        with Locations((0.71311923, -24.376791988)):
            Rectangle(SKETCH9_W, SKETCH9_H)
        with Locations((80.97711923, -24.376791988)):
            Rectangle(SKETCH9_W, SKETCH9_H)
        with Locations((-39.41888077, 0.007208012)):
            Rectangle(SKETCH9_W, SKETCH9_H)
        with Locations((-39.41888077, -24.376791988)):
            Rectangle(SKETCH9_W, SKETCH9_H)
        with Locations((-79.55088077, 0.007208012)):
            Rectangle(SKETCH9_W, SKETCH9_H)
        with Locations((-79.55088077, -24.376791988)):
            Rectangle(SKETCH9_W, SKETCH9_H)
    extrude(amount=-CUT_EXTRUDE5_DEPTH, mode=Mode.SUBTRACT)

    # Sketch11 → Cut-Extrude6 (cut, through all)
    with BuildSketch(Plane(origin=(0, 2.8575, 0), x_dir=(1, 0, 0), z_dir=(0, 1, 0))):
        with Locations((99.533234068, 13.215208012)):
            Circle(SKETCH11_R)
        with Locations((99.533234068, -37.584791988)):
            Circle(SKETCH11_R)
        with Locations((59.401234068, -37.584791988)):
            Circle(SKETCH11_R)
        with Locations((59.401234068, 13.215208012)):
            Circle(SKETCH11_R)
        with Locations((19.269234068, -37.584791988)):
            Circle(SKETCH11_R)
        with Locations((19.269234068, 13.215208012)):
            Circle(SKETCH11_R)
        with Locations((-20.862765932, -37.584791988)):
            Circle(SKETCH11_R)
        with Locations((-20.862765932, 13.215208012)):
            Circle(SKETCH11_R)
        with Locations((-60.994765932, -37.584791988)):
            Circle(SKETCH11_R)
        with Locations((-60.994765932, 13.215208012)):
            Circle(SKETCH11_R)
        with Locations((-101.126765932, -37.584791988)):
            Circle(SKETCH11_R)
        with Locations((-101.126765932, 13.215208012)):
            Circle(SKETCH11_R)
    extrude(amount=-CUT_EXTRUDE6_DEPTH, mode=Mode.SUBTRACT)


solid = part.part
